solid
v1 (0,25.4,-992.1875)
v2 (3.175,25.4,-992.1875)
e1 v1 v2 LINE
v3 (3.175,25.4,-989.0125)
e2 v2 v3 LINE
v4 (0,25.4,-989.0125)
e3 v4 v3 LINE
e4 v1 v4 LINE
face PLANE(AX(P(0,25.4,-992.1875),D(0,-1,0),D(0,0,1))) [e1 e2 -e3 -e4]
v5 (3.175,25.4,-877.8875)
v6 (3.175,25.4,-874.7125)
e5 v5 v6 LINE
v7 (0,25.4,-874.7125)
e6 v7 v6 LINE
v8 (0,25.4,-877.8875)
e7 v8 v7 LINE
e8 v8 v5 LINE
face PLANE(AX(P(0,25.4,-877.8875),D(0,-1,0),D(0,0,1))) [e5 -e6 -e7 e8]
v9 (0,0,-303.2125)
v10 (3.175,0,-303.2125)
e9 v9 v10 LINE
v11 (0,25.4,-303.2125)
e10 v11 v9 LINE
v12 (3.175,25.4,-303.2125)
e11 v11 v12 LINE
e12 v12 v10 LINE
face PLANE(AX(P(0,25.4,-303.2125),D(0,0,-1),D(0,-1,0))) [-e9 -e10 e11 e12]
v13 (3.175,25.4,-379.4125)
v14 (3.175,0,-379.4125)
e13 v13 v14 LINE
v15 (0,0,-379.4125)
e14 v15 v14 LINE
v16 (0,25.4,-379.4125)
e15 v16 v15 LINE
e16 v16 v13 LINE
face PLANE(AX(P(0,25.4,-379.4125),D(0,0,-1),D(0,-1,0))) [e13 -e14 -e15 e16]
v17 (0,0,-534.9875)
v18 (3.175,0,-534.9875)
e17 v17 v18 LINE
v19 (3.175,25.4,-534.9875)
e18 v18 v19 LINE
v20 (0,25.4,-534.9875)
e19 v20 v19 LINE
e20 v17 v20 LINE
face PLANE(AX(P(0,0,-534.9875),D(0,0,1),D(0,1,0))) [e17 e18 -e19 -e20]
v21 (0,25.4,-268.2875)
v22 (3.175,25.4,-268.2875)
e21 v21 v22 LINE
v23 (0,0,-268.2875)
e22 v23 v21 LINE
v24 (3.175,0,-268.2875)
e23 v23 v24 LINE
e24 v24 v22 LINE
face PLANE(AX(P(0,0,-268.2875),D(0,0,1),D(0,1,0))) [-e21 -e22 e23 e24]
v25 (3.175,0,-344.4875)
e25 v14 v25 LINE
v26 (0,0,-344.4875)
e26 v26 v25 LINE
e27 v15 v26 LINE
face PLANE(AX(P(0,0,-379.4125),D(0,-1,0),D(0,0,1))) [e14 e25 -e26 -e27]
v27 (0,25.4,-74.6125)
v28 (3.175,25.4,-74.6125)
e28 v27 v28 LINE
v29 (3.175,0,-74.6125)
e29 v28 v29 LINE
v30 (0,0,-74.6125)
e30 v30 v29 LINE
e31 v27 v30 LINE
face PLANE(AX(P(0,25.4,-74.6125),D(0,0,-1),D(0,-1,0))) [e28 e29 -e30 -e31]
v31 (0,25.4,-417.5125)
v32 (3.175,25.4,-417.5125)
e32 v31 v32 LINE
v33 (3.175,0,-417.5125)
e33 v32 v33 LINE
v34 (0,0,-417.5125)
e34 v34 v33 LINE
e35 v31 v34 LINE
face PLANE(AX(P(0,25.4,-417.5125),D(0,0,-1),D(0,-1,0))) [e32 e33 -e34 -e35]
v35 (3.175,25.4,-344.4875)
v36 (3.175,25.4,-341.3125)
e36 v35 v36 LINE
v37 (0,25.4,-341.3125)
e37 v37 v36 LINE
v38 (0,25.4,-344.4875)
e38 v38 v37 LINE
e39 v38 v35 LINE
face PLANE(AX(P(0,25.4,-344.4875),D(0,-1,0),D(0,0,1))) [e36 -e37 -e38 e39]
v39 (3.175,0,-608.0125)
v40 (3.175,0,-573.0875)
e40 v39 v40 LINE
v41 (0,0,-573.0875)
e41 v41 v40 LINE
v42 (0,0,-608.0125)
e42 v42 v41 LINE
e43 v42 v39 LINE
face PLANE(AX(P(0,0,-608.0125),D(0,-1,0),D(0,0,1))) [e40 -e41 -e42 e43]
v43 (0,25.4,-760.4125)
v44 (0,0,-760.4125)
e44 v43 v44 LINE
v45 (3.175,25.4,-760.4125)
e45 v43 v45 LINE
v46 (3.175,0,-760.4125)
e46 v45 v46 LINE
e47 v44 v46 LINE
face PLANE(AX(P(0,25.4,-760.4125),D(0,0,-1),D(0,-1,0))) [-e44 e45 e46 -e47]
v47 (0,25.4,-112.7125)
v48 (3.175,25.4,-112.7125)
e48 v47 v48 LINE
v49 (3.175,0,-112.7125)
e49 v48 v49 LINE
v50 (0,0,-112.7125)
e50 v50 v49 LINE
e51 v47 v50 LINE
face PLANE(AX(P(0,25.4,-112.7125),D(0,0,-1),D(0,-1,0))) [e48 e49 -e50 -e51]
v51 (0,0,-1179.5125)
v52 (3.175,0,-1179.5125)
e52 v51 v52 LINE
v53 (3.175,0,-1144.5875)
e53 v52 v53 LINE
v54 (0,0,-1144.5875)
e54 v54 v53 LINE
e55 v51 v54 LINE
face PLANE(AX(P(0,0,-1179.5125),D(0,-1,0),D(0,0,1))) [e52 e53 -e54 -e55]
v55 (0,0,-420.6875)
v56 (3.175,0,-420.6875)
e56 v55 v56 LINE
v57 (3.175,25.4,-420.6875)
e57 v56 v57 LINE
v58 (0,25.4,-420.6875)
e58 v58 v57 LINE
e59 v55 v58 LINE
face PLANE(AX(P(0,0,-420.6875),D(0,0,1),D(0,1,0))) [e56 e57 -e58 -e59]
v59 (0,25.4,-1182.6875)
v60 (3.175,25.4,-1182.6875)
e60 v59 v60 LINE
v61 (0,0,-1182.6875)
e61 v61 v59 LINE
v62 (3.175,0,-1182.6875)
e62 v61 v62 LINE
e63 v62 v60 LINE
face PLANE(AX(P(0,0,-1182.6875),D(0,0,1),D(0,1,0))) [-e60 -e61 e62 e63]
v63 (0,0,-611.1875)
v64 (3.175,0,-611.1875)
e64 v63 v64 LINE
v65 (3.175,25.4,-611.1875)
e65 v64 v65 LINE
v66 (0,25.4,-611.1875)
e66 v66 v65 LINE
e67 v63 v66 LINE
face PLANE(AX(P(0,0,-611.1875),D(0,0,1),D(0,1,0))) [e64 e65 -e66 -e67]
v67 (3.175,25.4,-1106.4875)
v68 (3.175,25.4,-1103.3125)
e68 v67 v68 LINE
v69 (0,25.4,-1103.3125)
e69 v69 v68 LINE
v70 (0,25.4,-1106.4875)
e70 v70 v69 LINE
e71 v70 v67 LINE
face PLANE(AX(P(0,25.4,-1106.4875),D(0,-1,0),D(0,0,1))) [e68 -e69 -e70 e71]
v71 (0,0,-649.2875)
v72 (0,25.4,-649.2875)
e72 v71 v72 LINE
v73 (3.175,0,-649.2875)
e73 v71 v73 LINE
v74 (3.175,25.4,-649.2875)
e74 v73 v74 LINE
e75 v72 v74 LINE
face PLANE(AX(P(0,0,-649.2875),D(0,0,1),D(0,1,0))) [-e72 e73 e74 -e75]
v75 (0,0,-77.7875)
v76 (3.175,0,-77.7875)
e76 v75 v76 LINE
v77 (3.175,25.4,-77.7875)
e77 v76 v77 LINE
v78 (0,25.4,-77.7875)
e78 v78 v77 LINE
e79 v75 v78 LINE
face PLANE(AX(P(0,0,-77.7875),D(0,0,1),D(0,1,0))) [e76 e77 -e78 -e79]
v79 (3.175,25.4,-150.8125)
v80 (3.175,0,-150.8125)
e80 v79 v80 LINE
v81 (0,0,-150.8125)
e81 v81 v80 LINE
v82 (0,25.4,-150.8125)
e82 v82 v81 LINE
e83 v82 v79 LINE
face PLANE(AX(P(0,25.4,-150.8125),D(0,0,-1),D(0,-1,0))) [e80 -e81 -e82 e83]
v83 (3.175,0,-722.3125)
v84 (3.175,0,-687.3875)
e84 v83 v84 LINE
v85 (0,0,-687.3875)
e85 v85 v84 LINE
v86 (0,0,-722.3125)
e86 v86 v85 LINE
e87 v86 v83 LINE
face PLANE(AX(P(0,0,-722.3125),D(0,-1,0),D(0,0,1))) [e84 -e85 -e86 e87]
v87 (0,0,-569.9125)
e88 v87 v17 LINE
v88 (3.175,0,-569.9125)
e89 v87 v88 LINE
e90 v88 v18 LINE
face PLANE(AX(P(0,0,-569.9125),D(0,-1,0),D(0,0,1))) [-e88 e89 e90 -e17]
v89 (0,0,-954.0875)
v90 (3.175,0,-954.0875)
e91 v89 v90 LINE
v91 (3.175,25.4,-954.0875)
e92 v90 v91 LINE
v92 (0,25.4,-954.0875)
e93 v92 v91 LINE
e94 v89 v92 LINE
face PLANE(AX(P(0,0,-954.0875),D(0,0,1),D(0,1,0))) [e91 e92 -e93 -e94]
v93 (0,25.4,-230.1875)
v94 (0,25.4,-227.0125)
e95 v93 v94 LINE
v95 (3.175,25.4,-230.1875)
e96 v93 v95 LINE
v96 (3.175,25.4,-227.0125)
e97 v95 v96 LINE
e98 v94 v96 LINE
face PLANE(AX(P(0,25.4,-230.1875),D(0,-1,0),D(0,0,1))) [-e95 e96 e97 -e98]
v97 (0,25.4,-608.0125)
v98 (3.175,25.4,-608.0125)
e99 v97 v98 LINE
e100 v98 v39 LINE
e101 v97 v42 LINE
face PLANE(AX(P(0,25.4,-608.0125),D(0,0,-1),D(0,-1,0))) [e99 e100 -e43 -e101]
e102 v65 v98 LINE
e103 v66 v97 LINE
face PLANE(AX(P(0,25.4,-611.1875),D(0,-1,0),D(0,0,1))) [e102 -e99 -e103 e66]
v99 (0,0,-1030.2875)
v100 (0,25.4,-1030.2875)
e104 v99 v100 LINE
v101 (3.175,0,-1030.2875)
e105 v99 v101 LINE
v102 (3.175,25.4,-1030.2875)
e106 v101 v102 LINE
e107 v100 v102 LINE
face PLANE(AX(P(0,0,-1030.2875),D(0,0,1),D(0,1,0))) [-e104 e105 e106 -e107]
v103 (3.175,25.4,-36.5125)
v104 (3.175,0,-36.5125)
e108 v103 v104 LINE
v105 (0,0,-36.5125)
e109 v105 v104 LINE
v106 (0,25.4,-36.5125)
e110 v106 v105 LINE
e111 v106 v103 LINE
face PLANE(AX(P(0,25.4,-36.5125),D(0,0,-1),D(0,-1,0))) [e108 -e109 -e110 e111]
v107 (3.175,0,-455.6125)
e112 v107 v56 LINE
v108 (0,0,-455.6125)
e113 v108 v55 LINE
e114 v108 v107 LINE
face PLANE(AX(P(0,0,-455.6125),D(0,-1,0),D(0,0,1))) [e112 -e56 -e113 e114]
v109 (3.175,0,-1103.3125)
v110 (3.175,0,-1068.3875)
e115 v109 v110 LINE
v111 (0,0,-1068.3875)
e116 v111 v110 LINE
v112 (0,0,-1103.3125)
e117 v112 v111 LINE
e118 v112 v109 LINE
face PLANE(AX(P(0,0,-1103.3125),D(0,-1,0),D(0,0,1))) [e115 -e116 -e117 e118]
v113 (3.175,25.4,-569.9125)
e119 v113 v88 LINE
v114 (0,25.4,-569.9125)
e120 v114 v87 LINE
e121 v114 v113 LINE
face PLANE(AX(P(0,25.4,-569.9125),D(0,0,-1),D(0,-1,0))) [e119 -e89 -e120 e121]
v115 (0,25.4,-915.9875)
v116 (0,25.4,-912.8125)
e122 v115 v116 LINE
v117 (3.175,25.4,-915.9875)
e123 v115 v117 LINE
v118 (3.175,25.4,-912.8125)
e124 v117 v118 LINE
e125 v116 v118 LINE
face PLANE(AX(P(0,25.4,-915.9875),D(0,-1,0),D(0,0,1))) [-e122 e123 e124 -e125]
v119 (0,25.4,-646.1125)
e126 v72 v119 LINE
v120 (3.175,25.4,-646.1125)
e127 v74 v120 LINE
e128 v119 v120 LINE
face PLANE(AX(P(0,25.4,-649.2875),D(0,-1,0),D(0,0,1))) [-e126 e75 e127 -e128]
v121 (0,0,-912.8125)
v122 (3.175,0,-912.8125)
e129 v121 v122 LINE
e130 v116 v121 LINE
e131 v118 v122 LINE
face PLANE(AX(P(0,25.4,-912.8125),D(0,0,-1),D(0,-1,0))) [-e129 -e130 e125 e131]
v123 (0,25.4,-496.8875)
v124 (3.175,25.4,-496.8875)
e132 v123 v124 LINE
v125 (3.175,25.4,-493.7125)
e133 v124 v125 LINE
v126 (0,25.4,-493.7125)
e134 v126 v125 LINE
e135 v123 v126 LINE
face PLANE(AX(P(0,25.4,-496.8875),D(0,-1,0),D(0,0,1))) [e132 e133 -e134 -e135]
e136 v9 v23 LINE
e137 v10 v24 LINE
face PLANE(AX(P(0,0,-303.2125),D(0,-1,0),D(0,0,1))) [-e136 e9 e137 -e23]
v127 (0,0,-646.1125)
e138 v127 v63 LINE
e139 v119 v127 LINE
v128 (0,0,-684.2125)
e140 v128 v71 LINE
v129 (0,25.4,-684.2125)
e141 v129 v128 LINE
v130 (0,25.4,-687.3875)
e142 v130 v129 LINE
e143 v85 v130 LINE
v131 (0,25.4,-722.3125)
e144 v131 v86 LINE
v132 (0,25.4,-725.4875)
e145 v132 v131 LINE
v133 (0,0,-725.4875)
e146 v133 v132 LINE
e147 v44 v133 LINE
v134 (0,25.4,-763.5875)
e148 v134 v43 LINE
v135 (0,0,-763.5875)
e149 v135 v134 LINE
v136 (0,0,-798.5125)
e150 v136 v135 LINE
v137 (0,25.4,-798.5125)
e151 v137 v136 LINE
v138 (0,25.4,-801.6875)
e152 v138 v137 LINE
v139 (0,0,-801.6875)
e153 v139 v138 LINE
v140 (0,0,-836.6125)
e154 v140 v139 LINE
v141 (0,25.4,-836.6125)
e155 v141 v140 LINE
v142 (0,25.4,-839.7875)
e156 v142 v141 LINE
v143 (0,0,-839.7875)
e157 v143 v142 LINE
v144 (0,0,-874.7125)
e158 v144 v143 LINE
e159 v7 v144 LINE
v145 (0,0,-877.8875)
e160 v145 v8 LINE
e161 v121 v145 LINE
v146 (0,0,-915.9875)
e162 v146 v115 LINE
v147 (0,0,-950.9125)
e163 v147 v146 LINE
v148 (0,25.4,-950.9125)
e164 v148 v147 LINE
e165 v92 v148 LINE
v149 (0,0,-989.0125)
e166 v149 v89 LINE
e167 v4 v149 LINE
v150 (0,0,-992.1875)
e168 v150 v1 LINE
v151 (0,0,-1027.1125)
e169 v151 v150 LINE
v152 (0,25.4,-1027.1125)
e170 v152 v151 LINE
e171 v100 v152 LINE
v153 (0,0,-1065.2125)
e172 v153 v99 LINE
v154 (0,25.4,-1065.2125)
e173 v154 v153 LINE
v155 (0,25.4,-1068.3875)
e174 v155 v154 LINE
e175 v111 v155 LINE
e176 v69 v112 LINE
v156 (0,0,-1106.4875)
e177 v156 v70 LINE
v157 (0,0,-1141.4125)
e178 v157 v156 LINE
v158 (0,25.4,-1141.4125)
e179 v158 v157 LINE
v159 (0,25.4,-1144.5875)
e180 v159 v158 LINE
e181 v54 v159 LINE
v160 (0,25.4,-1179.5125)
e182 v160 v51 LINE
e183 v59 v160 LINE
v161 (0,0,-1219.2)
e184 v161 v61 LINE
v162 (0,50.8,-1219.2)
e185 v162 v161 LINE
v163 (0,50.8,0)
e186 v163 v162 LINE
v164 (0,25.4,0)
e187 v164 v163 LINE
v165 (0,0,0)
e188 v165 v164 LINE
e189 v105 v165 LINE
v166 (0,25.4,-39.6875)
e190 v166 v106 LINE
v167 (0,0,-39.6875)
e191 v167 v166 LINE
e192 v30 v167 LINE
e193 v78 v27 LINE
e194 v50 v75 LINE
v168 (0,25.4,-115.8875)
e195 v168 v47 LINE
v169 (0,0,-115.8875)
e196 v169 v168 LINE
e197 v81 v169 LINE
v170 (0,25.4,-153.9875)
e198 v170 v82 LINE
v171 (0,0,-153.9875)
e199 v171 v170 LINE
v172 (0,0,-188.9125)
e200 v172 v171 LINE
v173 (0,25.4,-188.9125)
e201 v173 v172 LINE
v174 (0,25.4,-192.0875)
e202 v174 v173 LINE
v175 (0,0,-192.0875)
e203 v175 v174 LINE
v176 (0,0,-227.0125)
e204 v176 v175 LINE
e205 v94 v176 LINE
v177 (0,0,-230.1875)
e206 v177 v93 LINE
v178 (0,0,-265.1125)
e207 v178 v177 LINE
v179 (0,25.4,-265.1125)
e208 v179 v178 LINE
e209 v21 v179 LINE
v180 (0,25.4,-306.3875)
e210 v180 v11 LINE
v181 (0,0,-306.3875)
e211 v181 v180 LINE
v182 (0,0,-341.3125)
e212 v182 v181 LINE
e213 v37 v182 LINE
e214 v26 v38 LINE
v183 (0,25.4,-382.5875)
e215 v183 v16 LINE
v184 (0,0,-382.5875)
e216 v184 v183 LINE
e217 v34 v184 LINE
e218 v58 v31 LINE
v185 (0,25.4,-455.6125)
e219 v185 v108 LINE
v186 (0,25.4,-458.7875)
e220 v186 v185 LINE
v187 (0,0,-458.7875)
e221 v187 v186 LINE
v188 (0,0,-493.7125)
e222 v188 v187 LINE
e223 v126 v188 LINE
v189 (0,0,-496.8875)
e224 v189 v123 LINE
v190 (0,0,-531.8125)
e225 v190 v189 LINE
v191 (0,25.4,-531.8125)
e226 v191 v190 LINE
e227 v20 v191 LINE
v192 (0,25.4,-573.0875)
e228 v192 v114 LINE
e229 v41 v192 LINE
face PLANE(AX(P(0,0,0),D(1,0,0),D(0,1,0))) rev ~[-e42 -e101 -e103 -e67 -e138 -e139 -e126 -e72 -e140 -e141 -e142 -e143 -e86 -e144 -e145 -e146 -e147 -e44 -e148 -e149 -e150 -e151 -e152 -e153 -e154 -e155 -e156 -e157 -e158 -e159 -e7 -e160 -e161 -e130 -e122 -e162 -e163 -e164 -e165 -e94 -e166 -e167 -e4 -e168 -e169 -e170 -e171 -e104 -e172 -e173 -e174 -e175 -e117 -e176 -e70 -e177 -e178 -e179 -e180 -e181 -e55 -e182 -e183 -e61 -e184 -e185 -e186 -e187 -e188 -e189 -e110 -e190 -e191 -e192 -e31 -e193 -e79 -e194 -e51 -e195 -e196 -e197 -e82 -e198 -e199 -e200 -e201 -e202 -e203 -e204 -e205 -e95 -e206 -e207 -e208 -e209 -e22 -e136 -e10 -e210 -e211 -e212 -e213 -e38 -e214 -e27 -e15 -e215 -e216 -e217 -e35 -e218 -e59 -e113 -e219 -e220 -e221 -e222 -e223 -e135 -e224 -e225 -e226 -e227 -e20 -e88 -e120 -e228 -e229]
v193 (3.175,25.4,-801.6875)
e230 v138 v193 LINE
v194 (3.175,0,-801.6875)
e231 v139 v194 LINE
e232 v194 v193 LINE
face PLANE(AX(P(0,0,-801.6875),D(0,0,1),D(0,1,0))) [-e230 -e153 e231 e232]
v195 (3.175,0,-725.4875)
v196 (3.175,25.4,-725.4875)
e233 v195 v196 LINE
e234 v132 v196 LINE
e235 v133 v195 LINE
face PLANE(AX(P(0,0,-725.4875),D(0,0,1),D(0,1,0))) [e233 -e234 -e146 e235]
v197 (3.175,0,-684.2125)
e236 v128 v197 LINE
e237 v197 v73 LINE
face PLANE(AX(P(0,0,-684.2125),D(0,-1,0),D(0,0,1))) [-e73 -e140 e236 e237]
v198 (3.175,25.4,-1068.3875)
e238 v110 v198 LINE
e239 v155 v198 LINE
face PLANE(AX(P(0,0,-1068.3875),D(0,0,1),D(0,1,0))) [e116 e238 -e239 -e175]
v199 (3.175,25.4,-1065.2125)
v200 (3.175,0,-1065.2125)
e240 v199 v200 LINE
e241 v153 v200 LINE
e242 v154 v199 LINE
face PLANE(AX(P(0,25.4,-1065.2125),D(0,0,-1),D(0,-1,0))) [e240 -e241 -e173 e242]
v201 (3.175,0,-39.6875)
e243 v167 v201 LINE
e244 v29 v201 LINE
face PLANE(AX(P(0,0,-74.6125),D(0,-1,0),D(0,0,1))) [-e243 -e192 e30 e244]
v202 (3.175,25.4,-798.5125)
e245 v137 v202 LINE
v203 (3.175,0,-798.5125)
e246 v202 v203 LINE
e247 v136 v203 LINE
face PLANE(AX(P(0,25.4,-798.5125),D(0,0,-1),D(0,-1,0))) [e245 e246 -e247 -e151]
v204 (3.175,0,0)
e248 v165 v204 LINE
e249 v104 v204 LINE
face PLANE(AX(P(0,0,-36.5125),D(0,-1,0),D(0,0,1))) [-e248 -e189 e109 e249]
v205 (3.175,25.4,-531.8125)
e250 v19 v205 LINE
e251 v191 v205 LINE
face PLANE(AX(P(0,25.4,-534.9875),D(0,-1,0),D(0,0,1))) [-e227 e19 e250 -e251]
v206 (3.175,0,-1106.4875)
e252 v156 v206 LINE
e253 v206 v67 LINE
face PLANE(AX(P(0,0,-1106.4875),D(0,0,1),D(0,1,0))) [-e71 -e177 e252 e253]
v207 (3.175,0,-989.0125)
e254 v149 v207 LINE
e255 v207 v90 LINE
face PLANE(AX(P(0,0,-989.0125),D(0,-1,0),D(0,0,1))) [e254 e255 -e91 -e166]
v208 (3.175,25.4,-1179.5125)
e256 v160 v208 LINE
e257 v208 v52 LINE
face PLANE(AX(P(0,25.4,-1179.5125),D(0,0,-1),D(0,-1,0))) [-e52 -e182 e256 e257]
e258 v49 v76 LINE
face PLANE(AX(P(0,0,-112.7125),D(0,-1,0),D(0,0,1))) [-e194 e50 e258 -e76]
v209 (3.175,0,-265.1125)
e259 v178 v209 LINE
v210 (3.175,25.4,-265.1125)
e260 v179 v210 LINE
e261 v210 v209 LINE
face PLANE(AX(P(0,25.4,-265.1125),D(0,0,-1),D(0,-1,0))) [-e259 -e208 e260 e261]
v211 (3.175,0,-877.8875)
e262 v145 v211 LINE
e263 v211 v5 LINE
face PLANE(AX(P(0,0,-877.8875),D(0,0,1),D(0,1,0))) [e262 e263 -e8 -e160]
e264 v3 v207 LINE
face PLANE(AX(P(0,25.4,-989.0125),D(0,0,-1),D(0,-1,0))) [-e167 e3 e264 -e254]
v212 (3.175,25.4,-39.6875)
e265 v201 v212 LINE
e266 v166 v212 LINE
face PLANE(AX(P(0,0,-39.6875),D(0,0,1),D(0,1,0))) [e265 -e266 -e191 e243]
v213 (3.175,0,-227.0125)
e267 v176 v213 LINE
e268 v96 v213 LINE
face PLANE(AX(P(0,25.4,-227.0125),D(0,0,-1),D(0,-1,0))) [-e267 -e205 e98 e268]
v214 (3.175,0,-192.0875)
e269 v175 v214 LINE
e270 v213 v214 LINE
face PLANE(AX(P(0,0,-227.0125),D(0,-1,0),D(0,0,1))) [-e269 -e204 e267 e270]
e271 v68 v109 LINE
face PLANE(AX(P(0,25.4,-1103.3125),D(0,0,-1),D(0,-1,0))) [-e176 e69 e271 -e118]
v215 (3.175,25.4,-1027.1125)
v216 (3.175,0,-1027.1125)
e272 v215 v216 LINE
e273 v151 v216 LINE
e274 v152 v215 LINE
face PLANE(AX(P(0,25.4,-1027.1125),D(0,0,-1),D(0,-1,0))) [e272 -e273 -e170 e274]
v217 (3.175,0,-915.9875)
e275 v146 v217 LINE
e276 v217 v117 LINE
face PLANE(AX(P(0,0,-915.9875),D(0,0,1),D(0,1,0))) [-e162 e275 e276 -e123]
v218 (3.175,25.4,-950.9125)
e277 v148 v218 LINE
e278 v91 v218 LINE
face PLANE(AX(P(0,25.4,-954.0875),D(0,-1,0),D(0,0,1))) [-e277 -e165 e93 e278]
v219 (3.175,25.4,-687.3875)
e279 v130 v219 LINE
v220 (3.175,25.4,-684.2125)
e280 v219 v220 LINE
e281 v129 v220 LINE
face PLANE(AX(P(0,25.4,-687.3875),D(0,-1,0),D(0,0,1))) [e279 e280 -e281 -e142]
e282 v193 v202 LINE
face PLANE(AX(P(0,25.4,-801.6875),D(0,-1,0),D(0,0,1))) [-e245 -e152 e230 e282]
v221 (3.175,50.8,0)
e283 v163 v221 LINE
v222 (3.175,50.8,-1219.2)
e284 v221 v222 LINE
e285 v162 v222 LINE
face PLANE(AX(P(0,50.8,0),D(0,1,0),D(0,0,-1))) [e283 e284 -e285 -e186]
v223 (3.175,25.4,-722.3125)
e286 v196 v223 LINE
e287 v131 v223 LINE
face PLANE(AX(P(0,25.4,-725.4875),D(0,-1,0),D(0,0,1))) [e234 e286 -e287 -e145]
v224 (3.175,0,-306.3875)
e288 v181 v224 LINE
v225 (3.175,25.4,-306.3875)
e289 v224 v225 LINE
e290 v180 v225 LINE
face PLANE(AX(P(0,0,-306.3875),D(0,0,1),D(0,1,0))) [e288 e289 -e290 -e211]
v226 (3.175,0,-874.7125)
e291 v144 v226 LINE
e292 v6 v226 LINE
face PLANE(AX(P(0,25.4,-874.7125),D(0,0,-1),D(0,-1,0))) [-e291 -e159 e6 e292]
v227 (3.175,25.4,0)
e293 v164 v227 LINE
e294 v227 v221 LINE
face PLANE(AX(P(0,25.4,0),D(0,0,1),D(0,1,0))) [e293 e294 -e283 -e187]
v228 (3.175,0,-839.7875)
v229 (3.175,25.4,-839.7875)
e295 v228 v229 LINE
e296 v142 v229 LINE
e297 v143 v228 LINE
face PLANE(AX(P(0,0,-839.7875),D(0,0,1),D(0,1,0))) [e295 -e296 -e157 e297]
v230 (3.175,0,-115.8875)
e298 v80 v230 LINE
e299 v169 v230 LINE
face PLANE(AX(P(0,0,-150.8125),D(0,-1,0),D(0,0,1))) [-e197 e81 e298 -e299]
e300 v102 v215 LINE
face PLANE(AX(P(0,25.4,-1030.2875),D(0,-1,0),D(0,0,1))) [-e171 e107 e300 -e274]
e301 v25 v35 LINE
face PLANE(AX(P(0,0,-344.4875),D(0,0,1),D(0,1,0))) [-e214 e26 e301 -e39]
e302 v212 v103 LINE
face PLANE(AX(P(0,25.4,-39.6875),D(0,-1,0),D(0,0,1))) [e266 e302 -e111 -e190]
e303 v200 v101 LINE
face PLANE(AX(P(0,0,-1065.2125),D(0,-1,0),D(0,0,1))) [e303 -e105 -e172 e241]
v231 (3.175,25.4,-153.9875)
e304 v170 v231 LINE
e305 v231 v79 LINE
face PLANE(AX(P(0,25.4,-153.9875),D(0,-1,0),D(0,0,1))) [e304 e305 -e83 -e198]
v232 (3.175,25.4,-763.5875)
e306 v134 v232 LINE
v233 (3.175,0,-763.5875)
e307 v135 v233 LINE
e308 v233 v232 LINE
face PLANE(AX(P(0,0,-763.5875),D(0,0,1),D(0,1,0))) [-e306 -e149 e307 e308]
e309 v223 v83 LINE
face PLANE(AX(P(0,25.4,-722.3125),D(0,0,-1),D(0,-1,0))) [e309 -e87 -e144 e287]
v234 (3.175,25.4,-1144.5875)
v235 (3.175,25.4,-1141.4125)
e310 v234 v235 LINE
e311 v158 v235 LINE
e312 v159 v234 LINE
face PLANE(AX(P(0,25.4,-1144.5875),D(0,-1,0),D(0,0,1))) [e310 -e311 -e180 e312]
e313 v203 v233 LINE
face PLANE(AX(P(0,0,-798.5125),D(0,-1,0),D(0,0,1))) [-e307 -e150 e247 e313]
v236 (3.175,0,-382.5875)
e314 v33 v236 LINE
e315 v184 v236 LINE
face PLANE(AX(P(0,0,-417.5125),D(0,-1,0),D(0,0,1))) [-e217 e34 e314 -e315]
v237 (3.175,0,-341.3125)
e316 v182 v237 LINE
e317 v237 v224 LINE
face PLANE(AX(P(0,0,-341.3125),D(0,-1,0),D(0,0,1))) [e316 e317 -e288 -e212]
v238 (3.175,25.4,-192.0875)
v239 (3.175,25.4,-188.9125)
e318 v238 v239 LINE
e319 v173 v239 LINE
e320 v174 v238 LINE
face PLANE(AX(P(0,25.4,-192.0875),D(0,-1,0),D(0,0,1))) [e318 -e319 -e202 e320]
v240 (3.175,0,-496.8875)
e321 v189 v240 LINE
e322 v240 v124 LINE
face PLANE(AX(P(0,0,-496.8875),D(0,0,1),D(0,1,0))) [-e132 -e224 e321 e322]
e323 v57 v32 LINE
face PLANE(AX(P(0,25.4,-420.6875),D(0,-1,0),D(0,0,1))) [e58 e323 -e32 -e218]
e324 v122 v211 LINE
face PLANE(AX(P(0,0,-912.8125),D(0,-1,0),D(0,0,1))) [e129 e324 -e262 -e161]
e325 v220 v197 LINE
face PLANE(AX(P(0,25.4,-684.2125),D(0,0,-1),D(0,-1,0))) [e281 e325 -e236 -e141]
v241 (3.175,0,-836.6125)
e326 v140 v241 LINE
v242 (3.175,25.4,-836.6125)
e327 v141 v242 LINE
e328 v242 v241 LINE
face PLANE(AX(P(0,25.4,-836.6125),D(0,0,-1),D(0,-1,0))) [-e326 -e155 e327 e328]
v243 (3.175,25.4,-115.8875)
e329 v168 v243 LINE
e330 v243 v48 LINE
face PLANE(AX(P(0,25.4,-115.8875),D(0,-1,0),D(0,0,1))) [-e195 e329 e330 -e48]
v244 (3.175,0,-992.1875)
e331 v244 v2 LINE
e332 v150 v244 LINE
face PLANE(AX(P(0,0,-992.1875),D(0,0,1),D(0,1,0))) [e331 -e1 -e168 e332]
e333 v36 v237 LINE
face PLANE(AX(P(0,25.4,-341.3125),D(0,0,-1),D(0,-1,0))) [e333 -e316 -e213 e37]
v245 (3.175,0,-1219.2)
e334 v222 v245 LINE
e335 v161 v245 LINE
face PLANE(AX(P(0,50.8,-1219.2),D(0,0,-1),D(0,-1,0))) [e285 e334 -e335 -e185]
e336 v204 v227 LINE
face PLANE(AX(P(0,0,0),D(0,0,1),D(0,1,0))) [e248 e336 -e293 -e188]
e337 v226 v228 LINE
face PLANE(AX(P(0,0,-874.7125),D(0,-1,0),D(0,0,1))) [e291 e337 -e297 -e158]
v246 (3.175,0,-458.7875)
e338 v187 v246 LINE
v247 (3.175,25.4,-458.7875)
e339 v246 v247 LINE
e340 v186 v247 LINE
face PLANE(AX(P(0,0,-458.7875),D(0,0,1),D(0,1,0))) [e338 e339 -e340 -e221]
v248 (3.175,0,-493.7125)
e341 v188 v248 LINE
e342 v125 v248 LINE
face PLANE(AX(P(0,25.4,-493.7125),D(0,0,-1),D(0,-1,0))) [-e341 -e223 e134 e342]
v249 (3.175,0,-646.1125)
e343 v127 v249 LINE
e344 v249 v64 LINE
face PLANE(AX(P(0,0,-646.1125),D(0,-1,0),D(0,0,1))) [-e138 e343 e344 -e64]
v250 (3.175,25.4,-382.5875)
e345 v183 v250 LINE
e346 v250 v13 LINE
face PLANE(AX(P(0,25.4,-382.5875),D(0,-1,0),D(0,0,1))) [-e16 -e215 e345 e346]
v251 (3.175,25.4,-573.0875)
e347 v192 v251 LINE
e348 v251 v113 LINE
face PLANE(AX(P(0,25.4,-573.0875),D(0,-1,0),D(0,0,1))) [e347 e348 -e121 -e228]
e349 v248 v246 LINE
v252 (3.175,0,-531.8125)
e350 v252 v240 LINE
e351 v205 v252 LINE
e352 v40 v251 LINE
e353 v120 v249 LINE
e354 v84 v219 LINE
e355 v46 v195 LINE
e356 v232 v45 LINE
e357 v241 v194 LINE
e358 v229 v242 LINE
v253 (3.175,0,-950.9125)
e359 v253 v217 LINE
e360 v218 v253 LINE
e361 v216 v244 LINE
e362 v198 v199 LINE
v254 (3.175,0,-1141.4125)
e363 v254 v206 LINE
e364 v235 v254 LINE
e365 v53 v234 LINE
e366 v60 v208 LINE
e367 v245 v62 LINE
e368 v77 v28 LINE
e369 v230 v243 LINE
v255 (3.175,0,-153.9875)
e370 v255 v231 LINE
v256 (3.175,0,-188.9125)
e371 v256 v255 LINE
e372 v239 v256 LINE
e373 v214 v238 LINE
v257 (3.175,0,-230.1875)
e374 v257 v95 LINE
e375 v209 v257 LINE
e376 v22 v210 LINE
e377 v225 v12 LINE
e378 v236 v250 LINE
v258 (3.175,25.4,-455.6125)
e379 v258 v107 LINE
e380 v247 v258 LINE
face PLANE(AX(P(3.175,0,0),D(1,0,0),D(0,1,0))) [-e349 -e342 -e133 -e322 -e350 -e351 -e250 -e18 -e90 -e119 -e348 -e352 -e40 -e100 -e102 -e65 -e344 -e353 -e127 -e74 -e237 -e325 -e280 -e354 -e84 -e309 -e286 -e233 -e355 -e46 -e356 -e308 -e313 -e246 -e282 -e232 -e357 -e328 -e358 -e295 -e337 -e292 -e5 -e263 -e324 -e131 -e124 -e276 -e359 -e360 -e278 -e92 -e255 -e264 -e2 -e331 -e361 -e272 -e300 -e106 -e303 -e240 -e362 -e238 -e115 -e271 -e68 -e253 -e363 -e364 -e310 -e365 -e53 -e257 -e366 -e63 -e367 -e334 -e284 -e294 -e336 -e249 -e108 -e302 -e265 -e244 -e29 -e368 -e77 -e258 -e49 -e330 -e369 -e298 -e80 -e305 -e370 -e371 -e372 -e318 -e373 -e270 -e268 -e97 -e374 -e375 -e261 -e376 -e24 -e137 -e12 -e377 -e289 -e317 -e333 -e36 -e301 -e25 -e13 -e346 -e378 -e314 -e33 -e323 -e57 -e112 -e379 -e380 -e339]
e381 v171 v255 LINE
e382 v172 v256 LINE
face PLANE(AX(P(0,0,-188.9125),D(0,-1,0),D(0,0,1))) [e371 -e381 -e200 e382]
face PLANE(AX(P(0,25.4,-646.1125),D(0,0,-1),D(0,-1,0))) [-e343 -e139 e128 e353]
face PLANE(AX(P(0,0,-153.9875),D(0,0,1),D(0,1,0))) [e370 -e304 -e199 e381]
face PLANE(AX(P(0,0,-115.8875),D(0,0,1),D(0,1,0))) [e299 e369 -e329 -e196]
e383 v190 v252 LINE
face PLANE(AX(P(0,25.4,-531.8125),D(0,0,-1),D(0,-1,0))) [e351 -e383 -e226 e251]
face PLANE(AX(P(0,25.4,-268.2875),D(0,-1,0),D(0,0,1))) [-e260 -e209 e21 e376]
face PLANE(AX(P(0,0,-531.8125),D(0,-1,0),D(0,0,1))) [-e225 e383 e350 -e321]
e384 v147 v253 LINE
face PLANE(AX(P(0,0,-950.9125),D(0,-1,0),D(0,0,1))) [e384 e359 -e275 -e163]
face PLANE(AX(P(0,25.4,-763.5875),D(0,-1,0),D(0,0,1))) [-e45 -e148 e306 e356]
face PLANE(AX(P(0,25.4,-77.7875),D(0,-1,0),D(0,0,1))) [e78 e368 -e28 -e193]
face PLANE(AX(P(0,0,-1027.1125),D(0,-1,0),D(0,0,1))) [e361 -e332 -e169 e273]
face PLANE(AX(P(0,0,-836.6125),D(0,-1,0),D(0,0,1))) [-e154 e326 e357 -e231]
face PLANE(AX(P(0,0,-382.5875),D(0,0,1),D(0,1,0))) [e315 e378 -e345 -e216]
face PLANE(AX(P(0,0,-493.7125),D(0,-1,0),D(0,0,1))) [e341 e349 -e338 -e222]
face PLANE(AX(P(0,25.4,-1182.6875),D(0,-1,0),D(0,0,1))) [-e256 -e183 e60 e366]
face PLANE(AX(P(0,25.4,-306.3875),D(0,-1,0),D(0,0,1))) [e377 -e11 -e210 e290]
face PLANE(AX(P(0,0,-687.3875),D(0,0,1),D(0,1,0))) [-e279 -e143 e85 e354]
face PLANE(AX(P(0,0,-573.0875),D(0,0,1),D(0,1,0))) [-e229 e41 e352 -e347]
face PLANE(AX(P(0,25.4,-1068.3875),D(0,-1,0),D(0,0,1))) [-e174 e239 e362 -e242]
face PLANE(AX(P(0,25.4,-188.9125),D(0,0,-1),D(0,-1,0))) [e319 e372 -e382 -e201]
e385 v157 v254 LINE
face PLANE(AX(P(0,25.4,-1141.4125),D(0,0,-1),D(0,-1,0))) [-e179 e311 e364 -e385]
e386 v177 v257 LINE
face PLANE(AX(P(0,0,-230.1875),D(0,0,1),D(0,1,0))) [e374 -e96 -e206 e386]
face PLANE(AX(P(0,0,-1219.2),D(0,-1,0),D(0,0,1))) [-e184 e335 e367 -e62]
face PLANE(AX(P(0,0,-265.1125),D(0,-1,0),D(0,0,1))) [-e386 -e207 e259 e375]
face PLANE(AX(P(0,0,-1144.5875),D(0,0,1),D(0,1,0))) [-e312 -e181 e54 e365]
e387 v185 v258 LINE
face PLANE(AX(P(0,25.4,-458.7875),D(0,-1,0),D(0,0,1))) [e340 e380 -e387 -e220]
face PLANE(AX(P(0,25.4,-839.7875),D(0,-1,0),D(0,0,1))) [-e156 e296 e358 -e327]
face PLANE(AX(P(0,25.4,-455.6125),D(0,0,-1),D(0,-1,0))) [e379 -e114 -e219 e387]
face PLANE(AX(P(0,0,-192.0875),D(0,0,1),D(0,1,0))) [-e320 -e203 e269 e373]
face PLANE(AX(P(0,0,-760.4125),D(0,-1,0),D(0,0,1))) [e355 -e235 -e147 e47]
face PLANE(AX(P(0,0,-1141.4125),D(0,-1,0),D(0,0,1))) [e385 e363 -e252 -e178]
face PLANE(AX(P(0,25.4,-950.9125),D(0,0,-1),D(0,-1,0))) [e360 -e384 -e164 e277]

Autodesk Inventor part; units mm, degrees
ref_plane "YZ Plane" through (0, 0, 0) normal (1, 0, 0) x (0, 1, 0)
ref_plane "XZ Plane" through (0, 0, 0) normal (0, 1, 0) x (-1, 0, 0)
ref_plane "XY Plane" through (0, 0, 0) normal (0, 0, 1) x (1, 0, 0)
sketch "Sketch1" plane through (0, 0, 0) normal (1, 0, 0) x (0, 1, 0)
  line L0 (0, 0) -> (50.8, 0)
  line L1 (50.8, 0) -> (50.8, -1219.2)
  line L2 (50.8, -1219.2) -> (0, -1219.2)
  line L3 (0, -1219.2) -> (0, -1182.6875)
  line L4 (0, -1182.6875) -> (25.4, -1182.6875)
  line L5 (25.4, -1182.6875) -> (25.4, -1179.5125)
  line L6 (25.4, -1179.5125) -> (0, -1179.5125)
  line L7 (0, -1179.5125) -> (0, -1144.5875)
  line L8 (0, -1144.5875) -> (25.4, -1144.5875)
  line L9 (25.4, -1144.5875) -> (25.4, -1141.4125)
  line L10 (25.4, -1141.4125) -> (0, -1141.4125)
  line L11 (0, -1141.4125) -> (0, -1106.4875)
  line L12 (0, -1106.4875) -> (25.4, -1106.4875)
  line L13 (25.4, -1106.4875) -> (25.4, -1103.3125)
  line L14 (25.4, -1103.3125) -> (0, -1103.3125)
  line L15 (0, -1103.3125) -> (0, -1068.3875)
  line L16 (0, -1068.3875) -> (25.4, -1068.3875)
  line L17 (25.4, -1068.3875) -> (25.4, -1065.2125)
  line L18 (25.4, -1065.2125) -> (0, -1065.2125)
  line L19 (0, -1065.2125) -> (0, -1030.2875)
  line L20 (0, -1030.2875) -> (25.4, -1030.2875)
  line L21 (25.4, -1030.2875) -> (25.4, -1027.1125)
  line L22 (25.4, -1027.1125) -> (0, -1027.1125)
  line L23 (0, -1027.1125) -> (0, -992.1875)
  line L24 (0, -992.1875) -> (25.4, -992.1875)
  line L25 (25.4, -992.1875) -> (25.4, -989.0125)
  line L26 (25.4, -989.0125) -> (0, -989.0125)
  line L27 (0, -989.0125) -> (0, -954.0875)
  line L28 (0, -954.0875) -> (25.4, -954.0875)
  line L29 (25.4, -954.0875) -> (25.4, -950.9125)
  line L30 (25.4, -950.9125) -> (0, -950.9125)
  line L31 (0, -950.9125) -> (0, -915.9875)
  line L32 (0, -915.9875) -> (25.4, -915.9875)
  line L33 (25.4, -915.9875) -> (25.4, -912.8125)
  line L34 (25.4, -912.8125) -> (0, -912.8125)
  line L35 (0, -912.8125) -> (0, -877.8875)
  line L36 (0, -877.8875) -> (25.4, -877.8875)
  line L37 (25.4, -877.8875) -> (25.4, -874.7125)
  line L38 (25.4, -874.7125) -> (0, -874.7125)
  line L39 (0, -874.7125) -> (0, -839.7875)
  line L40 (0, -839.7875) -> (25.4, -839.7875)
  line L41 (25.4, -839.7875) -> (25.4, -836.6125)
  line L42 (25.4, -836.6125) -> (0, -836.6125)
  line L43 (0, -836.6125) -> (0, -801.6875)
  line L44 (0, -801.6875) -> (25.4, -801.6875)
  line L45 (25.4, -801.6875) -> (25.4, -798.5125)
  line L46 (25.4, -798.5125) -> (0, -798.5125)
  line L47 (0, -798.5125) -> (0, -763.5875)
  line L48 (0, -763.5875) -> (25.4, -763.5875)
  line L49 (25.4, -763.5875) -> (25.4, -760.4125)
  line L50 (25.4, -760.4125) -> (0, -760.4125)
  line L51 (0, -760.4125) -> (0, -725.4875)
  line L52 (0, -725.4875) -> (25.4, -725.4875)
  line L53 (25.4, -725.4875) -> (25.4, -722.3125)
  line L54 (25.4, -722.3125) -> (0, -722.3125)
  line L55 (0, -722.3125) -> (0, -687.3875)
  line L56 (0, -687.3875) -> (25.4, -687.3875)
  line L57 (25.4, -687.3875) -> (25.4, -684.2125)
  line L58 (25.4, -684.2125) -> (0, -684.2125)
  line L59 (0, -684.2125) -> (0, -649.2875)
  line L60 (0, -649.2875) -> (25.4, -649.2875)
  line L61 (25.4, -649.2875) -> (25.4, -646.1125)
  line L62 (25.4, -646.1125) -> (0, -646.1125)
  line L63 (0, -646.1125) -> (0, -611.1875)
  line L64 (0, -611.1875) -> (25.4, -611.1875)
  line L65 (25.4, -611.1875) -> (25.4, -608.0125)
  line L66 (25.4, -608.0125) -> (0, -608.0125)
  line L67 (25.4, -573.0875) -> (25.4, -569.9125)
  line L68 (25.4, -531.8125) -> (0, -531.8125)
  line L69 (0, -573.0875) -> (25.4, -573.0875)
  line L70 (25.4, -569.9125) -> (0, -569.9125)
  line L71 (0, -569.9125) -> (0, -534.9875)
  line L72 (0, -534.9875) -> (25.4, -534.9875)
  line L73 (0, -608.0125) -> (0, -573.0875)
  line L74 (25.4, -534.9875) -> (25.4, -531.8125)
  line L75 (25.4, -496.8875) -> (25.4, -493.7125)
  line L76 (25.4, -455.6125) -> (0, -455.6125)
  line L77 (0, -496.8875) -> (25.4, -496.8875)
  line L78 (25.4, -493.7125) -> (0, -493.7125)
  line L79 (0, -493.7125) -> (0, -458.7875)
  line L80 (0, -458.7875) -> (25.4, -458.7875)
  line L81 (0, -531.8125) -> (0, -496.8875)
  line L82 (25.4, -458.7875) -> (25.4, -455.6125)
  line L83 (25.4, -420.6875) -> (25.4, -417.5125)
  line L84 (25.4, -379.4125) -> (0, -379.4125)
  line L85 (0, -420.6875) -> (25.4, -420.6875)
  line L86 (25.4, -417.5125) -> (0, -417.5125)
  line L87 (0, -417.5125) -> (0, -382.5875)
  line L88 (0, -382.5875) -> (25.4, -382.5875)
  line L89 (0, -455.6125) -> (0, -420.6875)
  line L90 (25.4, -382.5875) -> (25.4, -379.4125)
  line L91 (25.4, -344.4875) -> (25.4, -341.3125)
  line L92 (25.4, -303.2125) -> (0, -303.2125)
  line L93 (0, -344.4875) -> (25.4, -344.4875)
  line L94 (25.4, -341.3125) -> (0, -341.3125)
  line L95 (0, -341.3125) -> (0, -306.3875)
  line L96 (0, -306.3875) -> (25.4, -306.3875)
  line L97 (0, -379.4125) -> (0, -344.4875)
  line L98 (25.4, -306.3875) -> (25.4, -303.2125)
  line L99 (25.4, -268.2875) -> (25.4, -265.1125)
  line L100 (25.4, -227.0125) -> (0, -227.0125)
  line L101 (0, -268.2875) -> (25.4, -268.2875)
  line L102 (25.4, -265.1125) -> (0, -265.1125)
  line L103 (0, -265.1125) -> (0, -230.1875)
  line L104 (0, -230.1875) -> (25.4, -230.1875)
  line L105 (0, -303.2125) -> (0, -268.2875)
  line L106 (25.4, -230.1875) -> (25.4, -227.0125)
  line L107 (25.4, -192.0875) -> (25.4, -188.9125)
  line L108 (25.4, -150.8125) -> (0, -150.8125)
  line L109 (0, -192.0875) -> (25.4, -192.0875)
  line L110 (25.4, -188.9125) -> (0, -188.9125)
  line L111 (0, -188.9125) -> (0, -153.9875)
  line L112 (0, -153.9875) -> (25.4, -153.9875)
  line L113 (0, -227.0125) -> (0, -192.0875)
  line L114 (25.4, -153.9875) -> (25.4, -150.8125)
  line L115 (25.4, -115.8875) -> (25.4, -112.7125)
  line L116 (25.4, -74.6125) -> (0, -74.6125)
  line L117 (0, -115.8875) -> (25.4, -115.8875)
  line L118 (25.4, -112.7125) -> (0, -112.7125)
  line L119 (0, -112.7125) -> (0, -77.7875)
  line L120 (0, -77.7875) -> (25.4, -77.7875)
  line L121 (0, -150.8125) -> (0, -115.8875)
  line L122 (25.4, -77.7875) -> (25.4, -74.6125)
  line L123 (25.4, -39.6875) -> (25.4, -36.5125)
  line L124 (25.4, 0) -> (0, 0)
  line L125 (0, -39.6875) -> (25.4, -39.6875)
  line L126 (25.4, -36.5125) -> (0, -36.5125)
  line L127 (0, -36.5125) -> (0, 0)
  line L128 (0, -74.6125) -> (0, -39.6875)
  dimension "d364" = 50.8
  dimension "d365" = 1219.2
  dimension "d377" = 36.5125
  dimension "d379" = 25.4
  dimension "d380" = 3.175
  dimension "d381" = 34.925
  dimension "d382" = 25.4
  dimension "d383" = 3.175
  dimension "d384" = 34.925
  dimension "d385" = 25.4
  dimension "d386" = 3.175
  dimension "d387" = 34.925
  dimension "d388" = 25.4
  dimension "d389" = 3.175
  dimension "d390" = 34.925
  dimension "d391" = 25.4
  dimension "d392" = 3.175
  dimension "d393" = 34.925
  dimension "d394" = 25.4
  dimension "d395" = 3.175
  dimension "d396" = 34.925
  dimension "d397" = 25.4
  dimension "d398" = 3.175
  dimension "d399" = 34.925
  dimension "d400" = 25.4
  dimension "d401" = 3.175
  dimension "d402" = 34.925
  dimension "d403" = 25.4
  dimension "d404" = 3.175
  dimension "d405" = 34.925
  dimension "d406" = 25.4
  dimension "d407" = 3.175
  dimension "d408" = 34.925
  dimension "d409" = 25.4
  dimension "d410" = 3.175
  dimension "d411" = 34.925
  dimension "d412" = 25.4
  dimension "d413" = 3.175
  dimension "d414" = 34.925
  dimension "d415" = 25.4
  dimension "d416" = 3.175
  dimension "d417" = 34.925
  dimension "d418" = 25.4
  dimension "d419" = 3.175
  dimension "d420" = 34.925
  dimension "d421" = 25.4
  dimension "d422" = 3.175
  dimension "d423" = 34.925
  dimension "d424" = 25.4
  dimension "d425" = 3.175
  dimension "d426" = 34.925
  dimension "d427" = 25.4
  dimension "d428" = 3.175
  dimension "d429" = 34.925
  dimension "d430" = 25.4
  dimension "d431" = 3.175
  dimension "d432" = 34.925
  dimension "d433" = 25.4
  dimension "d434" = 3.175
  dimension "d435" = 34.925
  dimension "d436" = 25.4
  dimension "d437" = 3.175
  dimension "d438" = 34.925
  dimension "d439" = 25.4
extrude "Extrusion2" add sketch "Sketch1" along normal blind 3.175
properties part number "DividerLengthPlastic" material "ABS Plastic"
